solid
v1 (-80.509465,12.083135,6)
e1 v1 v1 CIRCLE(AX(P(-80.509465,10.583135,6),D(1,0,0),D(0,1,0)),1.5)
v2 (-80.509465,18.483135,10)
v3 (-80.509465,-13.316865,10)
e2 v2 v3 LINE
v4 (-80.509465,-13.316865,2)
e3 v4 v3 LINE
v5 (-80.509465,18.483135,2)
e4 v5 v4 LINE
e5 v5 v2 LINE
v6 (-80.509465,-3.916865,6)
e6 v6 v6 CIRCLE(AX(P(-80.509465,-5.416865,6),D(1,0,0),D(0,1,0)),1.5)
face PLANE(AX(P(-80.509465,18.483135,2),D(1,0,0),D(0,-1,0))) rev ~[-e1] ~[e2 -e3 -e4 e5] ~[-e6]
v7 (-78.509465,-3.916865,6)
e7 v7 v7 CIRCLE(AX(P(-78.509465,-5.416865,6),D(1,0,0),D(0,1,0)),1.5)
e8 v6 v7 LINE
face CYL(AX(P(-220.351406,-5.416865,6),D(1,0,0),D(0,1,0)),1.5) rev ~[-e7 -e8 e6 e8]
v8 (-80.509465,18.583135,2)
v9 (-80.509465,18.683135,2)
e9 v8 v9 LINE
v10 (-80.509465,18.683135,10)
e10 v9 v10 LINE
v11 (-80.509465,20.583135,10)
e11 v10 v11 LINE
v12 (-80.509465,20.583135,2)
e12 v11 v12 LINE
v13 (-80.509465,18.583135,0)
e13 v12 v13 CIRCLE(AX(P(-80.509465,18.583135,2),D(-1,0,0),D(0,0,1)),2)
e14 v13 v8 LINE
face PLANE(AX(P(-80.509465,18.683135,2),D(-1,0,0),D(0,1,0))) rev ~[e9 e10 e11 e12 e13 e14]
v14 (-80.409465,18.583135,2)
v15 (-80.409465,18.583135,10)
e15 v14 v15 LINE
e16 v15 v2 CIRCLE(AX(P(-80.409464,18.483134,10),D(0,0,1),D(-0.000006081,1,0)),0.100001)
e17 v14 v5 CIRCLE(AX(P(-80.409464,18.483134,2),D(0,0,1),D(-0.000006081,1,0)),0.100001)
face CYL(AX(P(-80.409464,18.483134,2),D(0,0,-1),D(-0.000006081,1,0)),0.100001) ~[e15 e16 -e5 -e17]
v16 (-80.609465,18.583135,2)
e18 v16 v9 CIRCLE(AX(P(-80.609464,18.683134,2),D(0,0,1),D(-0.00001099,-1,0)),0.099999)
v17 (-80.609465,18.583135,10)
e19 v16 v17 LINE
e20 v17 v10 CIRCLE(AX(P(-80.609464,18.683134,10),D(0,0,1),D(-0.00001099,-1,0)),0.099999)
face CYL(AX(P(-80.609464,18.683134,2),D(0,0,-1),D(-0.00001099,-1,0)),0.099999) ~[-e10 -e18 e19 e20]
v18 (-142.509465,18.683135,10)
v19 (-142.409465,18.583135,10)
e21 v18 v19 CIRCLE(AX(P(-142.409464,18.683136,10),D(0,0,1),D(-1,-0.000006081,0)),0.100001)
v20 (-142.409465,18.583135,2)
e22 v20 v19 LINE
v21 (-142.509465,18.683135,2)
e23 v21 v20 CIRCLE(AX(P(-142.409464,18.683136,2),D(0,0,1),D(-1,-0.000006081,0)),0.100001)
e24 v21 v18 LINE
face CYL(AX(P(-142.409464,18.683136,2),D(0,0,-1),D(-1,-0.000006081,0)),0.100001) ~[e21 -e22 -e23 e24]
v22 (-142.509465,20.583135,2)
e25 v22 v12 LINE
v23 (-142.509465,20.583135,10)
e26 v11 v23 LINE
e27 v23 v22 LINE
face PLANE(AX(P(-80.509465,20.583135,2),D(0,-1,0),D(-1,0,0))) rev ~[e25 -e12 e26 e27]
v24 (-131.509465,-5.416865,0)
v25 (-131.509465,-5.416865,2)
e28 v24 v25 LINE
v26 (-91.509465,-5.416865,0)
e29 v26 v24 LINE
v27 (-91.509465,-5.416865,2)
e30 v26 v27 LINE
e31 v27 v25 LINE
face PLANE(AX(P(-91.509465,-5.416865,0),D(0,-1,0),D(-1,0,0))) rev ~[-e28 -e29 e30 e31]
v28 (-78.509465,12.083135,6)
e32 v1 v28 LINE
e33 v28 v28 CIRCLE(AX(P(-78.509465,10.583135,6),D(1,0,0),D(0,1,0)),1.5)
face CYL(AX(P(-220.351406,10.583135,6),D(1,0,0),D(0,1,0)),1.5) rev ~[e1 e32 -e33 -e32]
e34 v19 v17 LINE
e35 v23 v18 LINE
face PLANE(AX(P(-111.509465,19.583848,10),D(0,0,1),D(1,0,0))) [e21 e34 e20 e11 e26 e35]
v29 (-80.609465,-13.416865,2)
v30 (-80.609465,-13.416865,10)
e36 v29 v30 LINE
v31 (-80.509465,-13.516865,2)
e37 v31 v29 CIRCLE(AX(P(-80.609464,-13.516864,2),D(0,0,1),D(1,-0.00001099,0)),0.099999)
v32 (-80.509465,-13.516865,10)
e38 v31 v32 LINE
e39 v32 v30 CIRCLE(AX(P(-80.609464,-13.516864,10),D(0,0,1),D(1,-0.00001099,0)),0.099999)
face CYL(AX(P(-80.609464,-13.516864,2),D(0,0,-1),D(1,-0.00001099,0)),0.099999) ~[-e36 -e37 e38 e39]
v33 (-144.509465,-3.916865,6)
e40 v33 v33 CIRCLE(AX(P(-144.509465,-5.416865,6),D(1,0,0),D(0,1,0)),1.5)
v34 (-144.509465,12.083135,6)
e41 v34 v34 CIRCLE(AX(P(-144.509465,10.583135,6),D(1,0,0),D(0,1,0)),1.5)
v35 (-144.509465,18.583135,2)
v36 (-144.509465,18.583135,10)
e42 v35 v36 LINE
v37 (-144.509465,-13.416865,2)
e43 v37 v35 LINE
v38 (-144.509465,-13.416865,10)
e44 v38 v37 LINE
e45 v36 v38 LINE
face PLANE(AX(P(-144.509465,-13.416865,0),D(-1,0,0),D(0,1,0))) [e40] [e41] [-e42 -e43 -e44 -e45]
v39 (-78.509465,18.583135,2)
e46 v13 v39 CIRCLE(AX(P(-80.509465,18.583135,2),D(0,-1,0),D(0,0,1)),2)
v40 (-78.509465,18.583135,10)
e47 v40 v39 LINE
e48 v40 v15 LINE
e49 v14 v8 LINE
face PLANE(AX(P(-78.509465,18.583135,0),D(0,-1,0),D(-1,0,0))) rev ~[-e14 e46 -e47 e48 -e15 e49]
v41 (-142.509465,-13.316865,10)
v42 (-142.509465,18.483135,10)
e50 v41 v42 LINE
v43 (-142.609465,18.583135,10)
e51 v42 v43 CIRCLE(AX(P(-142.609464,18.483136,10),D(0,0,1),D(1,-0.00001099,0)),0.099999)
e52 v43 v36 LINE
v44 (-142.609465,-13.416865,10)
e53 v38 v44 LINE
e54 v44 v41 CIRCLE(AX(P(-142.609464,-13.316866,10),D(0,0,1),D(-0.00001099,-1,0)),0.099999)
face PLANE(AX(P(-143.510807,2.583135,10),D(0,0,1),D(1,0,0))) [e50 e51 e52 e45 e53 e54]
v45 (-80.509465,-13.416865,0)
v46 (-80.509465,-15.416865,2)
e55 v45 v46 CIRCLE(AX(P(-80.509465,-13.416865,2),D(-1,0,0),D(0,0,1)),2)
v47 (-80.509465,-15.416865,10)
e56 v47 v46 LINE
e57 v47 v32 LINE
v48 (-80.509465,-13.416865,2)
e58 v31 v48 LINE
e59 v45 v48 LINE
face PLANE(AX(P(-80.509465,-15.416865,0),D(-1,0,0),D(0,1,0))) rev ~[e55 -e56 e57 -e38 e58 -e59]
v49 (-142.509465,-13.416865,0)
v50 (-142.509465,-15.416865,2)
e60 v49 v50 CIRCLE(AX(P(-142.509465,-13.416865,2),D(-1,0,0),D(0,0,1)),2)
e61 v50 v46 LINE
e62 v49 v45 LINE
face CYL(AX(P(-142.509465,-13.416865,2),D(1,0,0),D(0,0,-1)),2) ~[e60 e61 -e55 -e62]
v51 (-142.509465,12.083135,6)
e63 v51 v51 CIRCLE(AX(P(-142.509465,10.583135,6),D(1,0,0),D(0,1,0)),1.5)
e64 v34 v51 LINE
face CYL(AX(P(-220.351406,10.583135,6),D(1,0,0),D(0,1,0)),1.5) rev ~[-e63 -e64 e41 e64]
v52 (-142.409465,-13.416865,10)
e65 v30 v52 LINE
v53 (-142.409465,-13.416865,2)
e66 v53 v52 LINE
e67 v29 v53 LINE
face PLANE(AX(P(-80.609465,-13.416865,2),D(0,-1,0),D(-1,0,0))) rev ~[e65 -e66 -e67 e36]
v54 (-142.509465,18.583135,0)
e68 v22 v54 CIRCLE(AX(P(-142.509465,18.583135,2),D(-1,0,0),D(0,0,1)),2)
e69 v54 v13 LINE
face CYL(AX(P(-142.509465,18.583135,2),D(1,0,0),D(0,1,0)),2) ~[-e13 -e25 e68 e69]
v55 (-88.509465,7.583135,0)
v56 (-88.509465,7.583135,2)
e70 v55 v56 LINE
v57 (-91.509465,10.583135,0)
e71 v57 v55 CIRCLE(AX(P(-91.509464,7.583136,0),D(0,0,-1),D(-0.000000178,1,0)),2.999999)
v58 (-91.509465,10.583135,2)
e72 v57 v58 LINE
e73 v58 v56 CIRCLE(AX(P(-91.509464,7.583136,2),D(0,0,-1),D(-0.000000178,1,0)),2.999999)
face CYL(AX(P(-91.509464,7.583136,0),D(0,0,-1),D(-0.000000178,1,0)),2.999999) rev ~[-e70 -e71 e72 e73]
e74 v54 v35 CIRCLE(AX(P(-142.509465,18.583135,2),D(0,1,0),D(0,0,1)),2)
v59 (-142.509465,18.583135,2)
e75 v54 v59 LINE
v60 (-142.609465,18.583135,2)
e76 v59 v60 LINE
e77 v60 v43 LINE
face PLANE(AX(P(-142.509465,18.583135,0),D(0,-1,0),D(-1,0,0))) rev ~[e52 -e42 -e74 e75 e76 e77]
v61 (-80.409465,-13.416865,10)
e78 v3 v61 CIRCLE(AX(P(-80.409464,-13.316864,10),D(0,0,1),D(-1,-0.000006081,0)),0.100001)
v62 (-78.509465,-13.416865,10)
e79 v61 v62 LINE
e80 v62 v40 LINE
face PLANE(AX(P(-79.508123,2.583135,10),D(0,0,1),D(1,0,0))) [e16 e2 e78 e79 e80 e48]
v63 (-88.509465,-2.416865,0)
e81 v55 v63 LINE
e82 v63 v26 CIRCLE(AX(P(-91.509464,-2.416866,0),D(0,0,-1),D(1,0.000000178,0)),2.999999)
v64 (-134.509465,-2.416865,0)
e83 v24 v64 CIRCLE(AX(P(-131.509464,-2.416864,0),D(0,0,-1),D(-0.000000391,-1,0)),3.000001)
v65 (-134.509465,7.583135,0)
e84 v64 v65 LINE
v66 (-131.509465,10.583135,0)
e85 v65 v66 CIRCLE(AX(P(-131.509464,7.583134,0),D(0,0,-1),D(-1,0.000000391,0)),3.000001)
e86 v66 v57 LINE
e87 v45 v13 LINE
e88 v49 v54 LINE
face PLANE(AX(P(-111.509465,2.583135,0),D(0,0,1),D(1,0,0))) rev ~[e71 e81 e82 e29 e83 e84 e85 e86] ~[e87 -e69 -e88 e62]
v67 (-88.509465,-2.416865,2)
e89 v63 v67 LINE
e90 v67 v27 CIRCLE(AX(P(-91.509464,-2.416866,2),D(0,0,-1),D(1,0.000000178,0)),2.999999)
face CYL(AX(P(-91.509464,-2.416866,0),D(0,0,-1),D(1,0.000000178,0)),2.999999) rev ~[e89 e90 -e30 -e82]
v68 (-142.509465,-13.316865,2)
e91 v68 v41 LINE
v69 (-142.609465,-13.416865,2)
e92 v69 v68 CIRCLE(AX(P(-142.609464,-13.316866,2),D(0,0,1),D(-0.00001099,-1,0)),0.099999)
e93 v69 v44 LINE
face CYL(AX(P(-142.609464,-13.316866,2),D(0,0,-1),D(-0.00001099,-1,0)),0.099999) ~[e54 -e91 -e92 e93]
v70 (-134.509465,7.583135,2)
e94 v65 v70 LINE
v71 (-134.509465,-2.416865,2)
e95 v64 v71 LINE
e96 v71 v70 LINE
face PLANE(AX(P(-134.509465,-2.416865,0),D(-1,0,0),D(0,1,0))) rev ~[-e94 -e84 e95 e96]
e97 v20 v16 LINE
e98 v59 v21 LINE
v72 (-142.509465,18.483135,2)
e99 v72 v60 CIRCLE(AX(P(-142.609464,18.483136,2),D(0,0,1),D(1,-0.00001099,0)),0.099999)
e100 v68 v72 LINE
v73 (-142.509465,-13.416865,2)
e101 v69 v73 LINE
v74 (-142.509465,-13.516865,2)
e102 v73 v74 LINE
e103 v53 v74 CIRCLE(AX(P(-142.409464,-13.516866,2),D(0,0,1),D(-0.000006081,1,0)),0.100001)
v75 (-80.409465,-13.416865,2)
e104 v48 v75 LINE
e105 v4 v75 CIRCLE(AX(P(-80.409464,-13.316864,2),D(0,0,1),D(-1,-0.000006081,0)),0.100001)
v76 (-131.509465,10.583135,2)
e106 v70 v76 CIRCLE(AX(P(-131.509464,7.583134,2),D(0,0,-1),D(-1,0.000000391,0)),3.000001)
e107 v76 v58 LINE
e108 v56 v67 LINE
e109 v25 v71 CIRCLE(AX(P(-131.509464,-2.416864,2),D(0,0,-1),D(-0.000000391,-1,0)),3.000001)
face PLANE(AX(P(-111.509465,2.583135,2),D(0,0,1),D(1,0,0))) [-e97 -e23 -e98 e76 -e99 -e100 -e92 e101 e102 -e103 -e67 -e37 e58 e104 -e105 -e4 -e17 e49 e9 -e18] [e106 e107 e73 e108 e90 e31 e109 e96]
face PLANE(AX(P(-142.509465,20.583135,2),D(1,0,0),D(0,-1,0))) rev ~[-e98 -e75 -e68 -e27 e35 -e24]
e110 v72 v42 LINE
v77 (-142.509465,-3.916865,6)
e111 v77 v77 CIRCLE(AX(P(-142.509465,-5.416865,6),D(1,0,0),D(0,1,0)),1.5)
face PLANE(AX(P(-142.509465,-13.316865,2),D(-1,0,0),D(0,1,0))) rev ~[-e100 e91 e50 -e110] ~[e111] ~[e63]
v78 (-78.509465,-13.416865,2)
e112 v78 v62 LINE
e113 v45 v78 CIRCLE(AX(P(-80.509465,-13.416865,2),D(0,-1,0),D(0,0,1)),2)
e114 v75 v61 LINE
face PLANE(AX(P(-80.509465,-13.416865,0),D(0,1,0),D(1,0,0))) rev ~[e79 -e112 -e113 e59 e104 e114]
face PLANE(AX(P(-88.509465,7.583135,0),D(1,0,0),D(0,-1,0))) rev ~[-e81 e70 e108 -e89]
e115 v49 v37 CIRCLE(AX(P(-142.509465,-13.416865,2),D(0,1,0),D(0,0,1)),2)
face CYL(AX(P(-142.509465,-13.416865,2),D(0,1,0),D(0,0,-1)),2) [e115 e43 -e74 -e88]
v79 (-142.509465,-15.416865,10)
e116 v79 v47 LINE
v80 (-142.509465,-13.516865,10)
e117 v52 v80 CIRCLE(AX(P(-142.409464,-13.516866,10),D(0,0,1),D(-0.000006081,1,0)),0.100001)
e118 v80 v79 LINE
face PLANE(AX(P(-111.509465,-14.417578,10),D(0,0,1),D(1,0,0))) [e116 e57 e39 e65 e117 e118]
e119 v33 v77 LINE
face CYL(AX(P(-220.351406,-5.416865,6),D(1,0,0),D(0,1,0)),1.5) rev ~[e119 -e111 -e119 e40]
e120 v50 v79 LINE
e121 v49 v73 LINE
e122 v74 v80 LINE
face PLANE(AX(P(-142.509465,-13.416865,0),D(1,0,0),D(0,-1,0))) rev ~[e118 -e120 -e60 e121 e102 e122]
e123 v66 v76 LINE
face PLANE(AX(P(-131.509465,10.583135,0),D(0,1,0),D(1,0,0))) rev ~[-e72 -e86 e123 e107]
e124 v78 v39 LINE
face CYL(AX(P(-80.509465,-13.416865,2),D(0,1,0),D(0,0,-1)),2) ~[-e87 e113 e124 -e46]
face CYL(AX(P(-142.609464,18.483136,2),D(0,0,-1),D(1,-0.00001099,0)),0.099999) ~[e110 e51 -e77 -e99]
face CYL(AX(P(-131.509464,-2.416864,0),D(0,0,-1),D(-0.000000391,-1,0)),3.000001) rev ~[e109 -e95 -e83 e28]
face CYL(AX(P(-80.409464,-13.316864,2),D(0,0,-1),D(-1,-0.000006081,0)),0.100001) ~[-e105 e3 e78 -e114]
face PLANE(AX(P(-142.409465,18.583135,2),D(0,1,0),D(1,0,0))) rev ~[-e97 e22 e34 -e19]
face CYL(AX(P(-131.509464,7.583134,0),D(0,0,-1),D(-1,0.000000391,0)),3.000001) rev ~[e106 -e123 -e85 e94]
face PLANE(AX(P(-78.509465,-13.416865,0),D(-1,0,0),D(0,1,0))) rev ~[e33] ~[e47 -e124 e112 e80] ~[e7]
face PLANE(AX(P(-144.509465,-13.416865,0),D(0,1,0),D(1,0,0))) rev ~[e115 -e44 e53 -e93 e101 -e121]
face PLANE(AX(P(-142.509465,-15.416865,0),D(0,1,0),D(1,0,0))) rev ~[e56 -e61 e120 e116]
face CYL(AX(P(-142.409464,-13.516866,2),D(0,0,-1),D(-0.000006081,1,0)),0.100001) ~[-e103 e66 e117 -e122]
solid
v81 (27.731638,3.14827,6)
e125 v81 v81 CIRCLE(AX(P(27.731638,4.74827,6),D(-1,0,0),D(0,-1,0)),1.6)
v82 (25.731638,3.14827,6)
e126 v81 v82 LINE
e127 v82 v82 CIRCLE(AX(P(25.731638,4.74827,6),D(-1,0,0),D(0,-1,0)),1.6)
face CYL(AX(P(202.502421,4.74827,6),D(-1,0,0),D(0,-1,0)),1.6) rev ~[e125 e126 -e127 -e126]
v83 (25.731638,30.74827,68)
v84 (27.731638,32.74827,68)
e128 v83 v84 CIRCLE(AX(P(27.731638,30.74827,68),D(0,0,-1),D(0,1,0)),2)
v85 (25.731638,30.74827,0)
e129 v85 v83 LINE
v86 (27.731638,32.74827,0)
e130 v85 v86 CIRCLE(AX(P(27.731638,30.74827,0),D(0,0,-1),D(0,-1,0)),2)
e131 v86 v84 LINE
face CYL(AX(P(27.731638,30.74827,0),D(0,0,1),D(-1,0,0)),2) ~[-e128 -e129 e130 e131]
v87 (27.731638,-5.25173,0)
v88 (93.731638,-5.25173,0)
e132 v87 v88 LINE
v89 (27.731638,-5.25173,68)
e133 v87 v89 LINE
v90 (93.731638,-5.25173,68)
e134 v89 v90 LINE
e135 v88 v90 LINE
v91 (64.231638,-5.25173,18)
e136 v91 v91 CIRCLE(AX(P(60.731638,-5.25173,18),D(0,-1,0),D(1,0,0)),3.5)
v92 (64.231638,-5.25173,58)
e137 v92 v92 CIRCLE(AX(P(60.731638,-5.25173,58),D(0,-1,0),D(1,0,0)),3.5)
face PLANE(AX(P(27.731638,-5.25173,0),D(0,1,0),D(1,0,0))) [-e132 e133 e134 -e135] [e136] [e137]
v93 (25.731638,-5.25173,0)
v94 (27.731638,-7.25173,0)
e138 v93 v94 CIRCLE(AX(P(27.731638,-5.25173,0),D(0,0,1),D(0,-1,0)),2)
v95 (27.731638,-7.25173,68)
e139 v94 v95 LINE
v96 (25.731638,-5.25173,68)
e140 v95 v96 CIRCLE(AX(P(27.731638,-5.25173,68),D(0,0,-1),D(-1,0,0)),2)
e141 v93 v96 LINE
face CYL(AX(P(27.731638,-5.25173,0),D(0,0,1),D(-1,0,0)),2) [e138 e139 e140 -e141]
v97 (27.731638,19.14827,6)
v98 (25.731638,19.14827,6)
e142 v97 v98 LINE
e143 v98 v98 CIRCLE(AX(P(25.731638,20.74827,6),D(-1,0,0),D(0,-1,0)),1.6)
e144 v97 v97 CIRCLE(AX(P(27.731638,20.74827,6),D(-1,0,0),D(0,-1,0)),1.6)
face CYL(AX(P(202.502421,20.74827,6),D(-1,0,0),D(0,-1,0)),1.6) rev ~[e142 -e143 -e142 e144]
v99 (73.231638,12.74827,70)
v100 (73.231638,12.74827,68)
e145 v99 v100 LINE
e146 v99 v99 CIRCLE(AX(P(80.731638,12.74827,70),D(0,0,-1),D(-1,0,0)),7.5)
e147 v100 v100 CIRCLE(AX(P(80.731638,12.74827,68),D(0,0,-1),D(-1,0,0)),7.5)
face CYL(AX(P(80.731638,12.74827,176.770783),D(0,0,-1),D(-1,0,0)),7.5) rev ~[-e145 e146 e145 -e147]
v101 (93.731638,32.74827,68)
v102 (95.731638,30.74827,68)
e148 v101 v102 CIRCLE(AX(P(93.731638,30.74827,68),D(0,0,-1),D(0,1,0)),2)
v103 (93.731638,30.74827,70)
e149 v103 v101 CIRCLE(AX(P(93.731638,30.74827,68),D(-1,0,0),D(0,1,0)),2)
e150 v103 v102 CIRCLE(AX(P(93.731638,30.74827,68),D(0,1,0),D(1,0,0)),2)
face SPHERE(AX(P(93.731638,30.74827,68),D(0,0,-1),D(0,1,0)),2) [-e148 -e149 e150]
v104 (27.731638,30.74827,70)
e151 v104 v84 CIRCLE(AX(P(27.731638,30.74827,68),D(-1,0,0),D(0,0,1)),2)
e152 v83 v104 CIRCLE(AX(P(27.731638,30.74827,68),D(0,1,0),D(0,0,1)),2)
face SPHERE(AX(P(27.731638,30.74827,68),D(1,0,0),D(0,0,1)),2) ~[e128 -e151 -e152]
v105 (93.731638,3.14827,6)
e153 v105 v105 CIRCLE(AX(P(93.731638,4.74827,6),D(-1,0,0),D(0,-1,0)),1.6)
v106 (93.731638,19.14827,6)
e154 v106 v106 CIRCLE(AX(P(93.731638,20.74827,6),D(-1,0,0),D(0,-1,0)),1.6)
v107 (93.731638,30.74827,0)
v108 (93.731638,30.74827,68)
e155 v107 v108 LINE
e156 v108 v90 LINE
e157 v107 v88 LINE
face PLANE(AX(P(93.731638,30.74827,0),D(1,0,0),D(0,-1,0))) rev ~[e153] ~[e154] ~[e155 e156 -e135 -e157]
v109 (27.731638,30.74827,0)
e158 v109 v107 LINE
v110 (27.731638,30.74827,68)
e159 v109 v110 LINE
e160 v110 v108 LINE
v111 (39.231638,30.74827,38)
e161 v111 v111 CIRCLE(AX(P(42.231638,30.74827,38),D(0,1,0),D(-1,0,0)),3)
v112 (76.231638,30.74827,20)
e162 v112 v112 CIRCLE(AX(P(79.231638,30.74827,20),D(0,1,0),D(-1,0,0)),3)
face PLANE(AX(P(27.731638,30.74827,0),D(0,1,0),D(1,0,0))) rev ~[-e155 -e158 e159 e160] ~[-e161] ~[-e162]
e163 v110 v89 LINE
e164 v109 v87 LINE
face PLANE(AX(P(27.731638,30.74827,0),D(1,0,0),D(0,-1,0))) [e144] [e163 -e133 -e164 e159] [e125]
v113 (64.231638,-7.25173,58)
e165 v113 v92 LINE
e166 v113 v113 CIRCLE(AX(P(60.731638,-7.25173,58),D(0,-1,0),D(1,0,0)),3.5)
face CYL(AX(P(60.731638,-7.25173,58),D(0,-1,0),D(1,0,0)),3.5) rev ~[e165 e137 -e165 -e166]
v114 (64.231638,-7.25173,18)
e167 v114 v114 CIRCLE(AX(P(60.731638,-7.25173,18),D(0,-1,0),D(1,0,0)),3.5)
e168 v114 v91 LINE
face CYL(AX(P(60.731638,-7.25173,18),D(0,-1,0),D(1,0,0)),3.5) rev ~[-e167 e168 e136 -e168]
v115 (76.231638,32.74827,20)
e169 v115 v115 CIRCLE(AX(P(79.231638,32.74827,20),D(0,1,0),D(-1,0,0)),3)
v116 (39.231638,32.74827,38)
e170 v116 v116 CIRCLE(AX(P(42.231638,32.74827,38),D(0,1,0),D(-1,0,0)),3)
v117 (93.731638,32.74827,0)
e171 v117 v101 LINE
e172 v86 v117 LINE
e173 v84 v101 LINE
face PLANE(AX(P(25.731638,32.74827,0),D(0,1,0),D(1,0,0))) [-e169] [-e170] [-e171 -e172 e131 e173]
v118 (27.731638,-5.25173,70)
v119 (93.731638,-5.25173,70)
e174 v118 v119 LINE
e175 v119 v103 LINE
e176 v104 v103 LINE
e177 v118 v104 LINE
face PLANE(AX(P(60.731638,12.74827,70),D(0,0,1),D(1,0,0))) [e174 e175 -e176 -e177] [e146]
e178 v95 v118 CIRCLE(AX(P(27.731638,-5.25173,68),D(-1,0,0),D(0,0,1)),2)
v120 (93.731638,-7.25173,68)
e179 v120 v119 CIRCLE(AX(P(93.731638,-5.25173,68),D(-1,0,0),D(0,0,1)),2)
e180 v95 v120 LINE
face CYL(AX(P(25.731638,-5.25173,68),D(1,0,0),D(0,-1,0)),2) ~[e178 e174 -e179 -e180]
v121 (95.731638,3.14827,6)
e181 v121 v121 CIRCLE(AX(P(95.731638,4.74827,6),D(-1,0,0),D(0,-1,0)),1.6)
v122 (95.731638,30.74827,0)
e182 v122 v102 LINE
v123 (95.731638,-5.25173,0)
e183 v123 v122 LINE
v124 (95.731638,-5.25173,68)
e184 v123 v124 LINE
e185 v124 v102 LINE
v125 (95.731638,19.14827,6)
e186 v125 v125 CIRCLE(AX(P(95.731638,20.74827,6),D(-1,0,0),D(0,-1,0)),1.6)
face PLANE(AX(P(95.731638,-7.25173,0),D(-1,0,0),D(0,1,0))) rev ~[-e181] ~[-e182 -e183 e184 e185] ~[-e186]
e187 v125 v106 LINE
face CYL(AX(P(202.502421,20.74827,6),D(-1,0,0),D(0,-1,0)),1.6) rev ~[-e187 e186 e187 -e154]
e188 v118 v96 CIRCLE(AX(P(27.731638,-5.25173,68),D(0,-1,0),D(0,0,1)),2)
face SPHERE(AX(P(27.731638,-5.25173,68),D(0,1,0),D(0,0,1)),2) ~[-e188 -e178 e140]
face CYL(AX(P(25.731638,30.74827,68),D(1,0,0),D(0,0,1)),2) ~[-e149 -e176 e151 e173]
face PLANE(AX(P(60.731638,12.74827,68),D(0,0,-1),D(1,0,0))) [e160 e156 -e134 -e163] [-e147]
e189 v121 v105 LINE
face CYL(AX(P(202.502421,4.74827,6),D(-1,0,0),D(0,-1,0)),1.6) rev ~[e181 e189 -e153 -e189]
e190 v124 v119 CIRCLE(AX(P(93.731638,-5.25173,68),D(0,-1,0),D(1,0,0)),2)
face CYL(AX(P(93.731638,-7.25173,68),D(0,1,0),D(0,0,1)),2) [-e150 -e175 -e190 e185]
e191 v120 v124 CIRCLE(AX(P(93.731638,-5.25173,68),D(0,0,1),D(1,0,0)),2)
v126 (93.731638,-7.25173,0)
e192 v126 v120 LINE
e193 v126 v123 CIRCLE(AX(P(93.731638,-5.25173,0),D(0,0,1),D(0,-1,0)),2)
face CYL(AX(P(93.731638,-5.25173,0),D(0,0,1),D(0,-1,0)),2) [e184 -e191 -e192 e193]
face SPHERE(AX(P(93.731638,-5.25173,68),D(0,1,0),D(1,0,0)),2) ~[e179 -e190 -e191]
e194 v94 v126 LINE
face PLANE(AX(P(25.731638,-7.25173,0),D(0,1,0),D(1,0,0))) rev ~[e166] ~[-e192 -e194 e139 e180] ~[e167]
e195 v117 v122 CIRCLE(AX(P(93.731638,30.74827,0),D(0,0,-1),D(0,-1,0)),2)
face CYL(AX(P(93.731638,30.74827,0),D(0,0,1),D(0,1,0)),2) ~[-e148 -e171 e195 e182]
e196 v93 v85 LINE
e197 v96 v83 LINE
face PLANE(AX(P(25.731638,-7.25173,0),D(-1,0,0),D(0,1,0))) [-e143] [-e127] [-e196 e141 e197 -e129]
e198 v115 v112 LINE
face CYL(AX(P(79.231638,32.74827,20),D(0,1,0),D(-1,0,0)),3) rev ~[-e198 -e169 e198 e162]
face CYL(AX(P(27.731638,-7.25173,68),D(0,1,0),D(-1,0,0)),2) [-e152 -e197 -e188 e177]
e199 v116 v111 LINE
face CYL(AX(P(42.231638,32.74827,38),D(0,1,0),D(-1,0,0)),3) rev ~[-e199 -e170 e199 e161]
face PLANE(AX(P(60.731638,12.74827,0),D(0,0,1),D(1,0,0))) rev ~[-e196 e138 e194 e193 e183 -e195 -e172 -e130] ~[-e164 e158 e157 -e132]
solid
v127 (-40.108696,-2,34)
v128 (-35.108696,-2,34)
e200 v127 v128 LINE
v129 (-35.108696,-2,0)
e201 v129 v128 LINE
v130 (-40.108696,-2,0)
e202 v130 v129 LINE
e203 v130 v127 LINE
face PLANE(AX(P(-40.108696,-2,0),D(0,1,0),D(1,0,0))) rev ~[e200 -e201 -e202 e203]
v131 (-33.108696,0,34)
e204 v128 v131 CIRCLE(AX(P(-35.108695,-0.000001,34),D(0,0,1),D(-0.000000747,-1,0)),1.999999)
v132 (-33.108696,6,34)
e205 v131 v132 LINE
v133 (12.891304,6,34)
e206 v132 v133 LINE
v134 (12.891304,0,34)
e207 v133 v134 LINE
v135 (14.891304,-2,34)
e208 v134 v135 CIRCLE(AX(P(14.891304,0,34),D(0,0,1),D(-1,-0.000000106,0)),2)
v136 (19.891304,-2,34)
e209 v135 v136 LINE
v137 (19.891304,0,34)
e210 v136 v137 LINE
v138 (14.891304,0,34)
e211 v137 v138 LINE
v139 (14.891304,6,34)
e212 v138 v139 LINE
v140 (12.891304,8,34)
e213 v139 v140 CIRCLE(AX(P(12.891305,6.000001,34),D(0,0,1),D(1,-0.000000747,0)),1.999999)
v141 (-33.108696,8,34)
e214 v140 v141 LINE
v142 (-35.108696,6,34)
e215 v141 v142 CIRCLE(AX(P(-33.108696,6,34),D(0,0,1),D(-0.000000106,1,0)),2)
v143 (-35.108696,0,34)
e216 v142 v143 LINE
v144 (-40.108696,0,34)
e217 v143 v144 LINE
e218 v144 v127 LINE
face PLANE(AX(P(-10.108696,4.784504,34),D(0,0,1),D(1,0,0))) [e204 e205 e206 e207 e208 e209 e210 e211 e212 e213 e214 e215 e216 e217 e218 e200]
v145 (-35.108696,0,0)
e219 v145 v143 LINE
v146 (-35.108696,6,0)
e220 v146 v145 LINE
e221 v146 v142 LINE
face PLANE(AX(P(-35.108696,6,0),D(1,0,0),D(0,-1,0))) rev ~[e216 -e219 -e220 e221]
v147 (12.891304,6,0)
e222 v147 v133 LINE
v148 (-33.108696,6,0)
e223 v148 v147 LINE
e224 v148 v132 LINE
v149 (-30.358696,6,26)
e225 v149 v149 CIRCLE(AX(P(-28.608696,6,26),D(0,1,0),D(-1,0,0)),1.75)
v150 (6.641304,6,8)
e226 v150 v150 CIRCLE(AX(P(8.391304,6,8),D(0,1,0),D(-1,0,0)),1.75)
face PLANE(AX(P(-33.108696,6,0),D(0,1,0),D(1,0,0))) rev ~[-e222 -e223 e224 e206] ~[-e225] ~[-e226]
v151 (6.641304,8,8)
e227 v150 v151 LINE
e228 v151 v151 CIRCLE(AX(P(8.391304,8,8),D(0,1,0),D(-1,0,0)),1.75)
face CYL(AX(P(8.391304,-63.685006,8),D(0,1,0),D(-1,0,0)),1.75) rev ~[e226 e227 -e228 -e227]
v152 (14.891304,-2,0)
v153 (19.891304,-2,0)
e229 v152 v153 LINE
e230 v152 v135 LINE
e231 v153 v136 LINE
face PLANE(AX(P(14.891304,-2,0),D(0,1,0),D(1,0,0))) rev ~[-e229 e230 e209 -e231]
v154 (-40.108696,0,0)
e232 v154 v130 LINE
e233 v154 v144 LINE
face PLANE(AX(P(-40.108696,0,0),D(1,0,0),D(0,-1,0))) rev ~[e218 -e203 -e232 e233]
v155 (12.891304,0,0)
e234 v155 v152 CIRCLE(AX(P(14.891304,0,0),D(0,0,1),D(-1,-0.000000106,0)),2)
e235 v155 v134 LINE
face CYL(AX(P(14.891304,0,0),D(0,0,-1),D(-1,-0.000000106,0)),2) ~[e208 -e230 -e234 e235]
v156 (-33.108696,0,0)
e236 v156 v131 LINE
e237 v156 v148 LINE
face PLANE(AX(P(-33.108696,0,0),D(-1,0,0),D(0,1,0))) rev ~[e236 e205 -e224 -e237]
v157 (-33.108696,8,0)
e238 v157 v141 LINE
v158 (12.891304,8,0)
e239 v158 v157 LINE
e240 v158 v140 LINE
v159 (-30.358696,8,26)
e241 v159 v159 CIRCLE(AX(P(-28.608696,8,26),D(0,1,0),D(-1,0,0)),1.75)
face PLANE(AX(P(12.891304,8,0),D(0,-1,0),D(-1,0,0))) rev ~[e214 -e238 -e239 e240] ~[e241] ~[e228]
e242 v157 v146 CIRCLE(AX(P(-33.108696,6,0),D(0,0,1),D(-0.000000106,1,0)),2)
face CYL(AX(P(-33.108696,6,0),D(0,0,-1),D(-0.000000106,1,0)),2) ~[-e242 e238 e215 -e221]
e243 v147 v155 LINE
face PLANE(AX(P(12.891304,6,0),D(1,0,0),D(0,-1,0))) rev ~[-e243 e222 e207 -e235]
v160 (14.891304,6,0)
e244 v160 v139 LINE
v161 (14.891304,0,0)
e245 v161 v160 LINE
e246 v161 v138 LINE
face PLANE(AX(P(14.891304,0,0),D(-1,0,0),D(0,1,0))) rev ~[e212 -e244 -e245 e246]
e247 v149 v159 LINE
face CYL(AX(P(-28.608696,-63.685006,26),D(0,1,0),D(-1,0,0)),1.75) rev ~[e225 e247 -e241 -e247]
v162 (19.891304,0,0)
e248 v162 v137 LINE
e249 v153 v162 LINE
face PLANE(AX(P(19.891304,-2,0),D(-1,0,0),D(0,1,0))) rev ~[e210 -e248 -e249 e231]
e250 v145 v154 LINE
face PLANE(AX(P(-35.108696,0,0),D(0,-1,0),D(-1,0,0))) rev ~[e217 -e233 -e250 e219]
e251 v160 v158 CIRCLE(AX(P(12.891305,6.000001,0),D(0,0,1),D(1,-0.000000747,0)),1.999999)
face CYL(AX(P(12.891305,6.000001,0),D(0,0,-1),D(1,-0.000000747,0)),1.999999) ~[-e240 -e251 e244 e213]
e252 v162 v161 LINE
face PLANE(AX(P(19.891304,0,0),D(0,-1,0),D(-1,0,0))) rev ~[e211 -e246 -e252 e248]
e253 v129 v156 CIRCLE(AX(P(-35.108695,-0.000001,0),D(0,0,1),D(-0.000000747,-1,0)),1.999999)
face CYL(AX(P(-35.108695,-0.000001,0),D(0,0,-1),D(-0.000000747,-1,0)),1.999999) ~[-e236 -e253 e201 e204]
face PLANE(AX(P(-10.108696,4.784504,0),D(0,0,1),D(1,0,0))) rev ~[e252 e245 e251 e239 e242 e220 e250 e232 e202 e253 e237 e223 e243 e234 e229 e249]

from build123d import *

# Parameters (mm, degrees)
F1_DEPTH  = 34
F3_D      = 3.5
F4_W      = 70
F4_H      = 40
F5_DEPTH  = 70
F6_W      = 66
F6_H      = 36
F7_DEPTH  = 68
F9_D      = 15
F11_D     = 3.2
F11_2_D   = 3.2
F12_R     = 3
F13_DEPTH = 2
F14_W     = 62
F14_H     = 32
F14_W_2   = 2
F14_H_2   = 2
F15_DEPTH = 2
F17_DEPTH = 8
F19_D     = 3
F20_R     = 2
F21_R     = 2
F22_R     = 3.5
F23_DEPTH = 2


with BuildPart() as f1:
    # F0 (on Top) → F1 (new body)
    with BuildSketch(Plane.XY):
        with BuildLine():
            Line((-35.108696, 0), (-40.108696, 0))
            Line((-40.108696, 0), (-40.108696, -2))
            Line((-40.108696, -2), (-35.108696, -2))
            ThreePointArc((-35.108696, -2), (-33.694482, -1.414214), (-33.108696, 0))
            Line((-33.108696, 0), (-33.108696, 6))
            Line((-33.108696, 6), (12.891304, 6))
            Line((12.891304, 6), (12.891304, 0))
            ThreePointArc((12.891304, 0), (13.477091, -1.414214), (14.891304, -2))
            Line((14.891304, -2), (19.891304, -2))
            Line((19.891304, -2), (19.891304, 0))
            Line((19.891304, 0), (14.891304, 0))
            Line((14.891304, 0), (14.891304, 6))
            ThreePointArc((14.891304, 6), (14.305518, 7.414214), (12.891304, 8))
            Line((12.891304, 8), (-33.108696, 8))
            ThreePointArc((-33.108696, 8), (-34.522909, 7.414214), (-35.108696, 6))
            Line((-35.108696, 6), (-35.108696, 0))
        make_face()
    extrude(amount=F1_DEPTH)

    # F3 (through all)
    with Locations(Plane.XZ.offset(-6)):
        with Locations((-28.608696, 26), (8.391304, 8)):
            Hole(F3_D / 2)

    # F11 (through all)
    with Locations(Plane.YZ.offset(95.731638)):
        with Locations((20.74827, 6), (4.74827, 6)):
            Hole(F11_D / 2)


with BuildPart() as f5:
    # F4 (on Top) → F5 (new body)
    with BuildSketch(Plane.XY):
        with Locations((60.731638, 12.74827)):
            Rectangle(F4_W, F4_H)
    extrude(amount=F5_DEPTH)

    # F6 (on face) → F7 (cut)
    with BuildSketch(Plane(origin=(0, 0, 0), x_dir=(1, 0, 0), z_dir=(0, 0, -1))):
        with Locations((60.731638, -12.74827)):
            Rectangle(F6_W, F6_H)
    extrude(amount=-F7_DEPTH, mode=Mode.SUBTRACT)

    # F9 (through all)
    with Locations(Plane.XY.offset(70)):
        with Locations((80.731638, 12.74827)):
            Hole(F9_D / 2)

    # F11#2 (through all)
    with Locations(Plane.YZ.offset(95.731638)):
        with Locations((20.74827, 6), (4.74827, 6)):
            Hole(F11_2_D / 2)

    # F12 (on face) → F13 (cut)
    with BuildSketch(Plane(origin=(0, 32.74827, 0), x_dir=(-1, 0, 0), z_dir=(0, 1, 0))):
        with Locations((-42.231638, 38)):
            Circle(F12_R)
        with Locations((-79.231638, 20)):
            Circle(F12_R)
    extrude(amount=-F13_DEPTH, mode=Mode.SUBTRACT)

    # F21
    f21_edges = [f5.edges().sort_by_distance(p)[0] for p in [
        (95.731638, 32.74827, 35),
        (60.731638, 32.74827, 70),
        (95.731638, 12.74827, 70),
        (95.731638, -7.25173, 35),
        (25.731638, 12.74827, 70),
        (60.731638, -7.25173, 70),
        (25.731638, 32.74827, 35),
        (25.731638, -7.25173, 35),
    ]]
    fillet(f21_edges, radius=F21_R)

    # F22 (on face) → F23 (cut)
    with BuildSketch(Plane.XZ.offset(7.25173)):
        with Locations((60.731638, 58)):
            Circle(F22_R)
        with Locations((60.731638, 18)):
            Circle(F22_R)
    extrude(amount=-F23_DEPTH, mode=Mode.SUBTRACT)


with BuildPart() as f15:
    # F14 (on Top) → F15 (new body)
    with BuildSketch(Plane.XY):
        with Locations((-111.509465, 2.583135)):
            Rectangle(F14_W, F14_H)
        with BuildLine():
            ThreePointArc((-134.509465, 7.583135), (-133.630785, 9.704455), (-131.509465, 10.583135))
            Line((-131.509465, 10.583135), (-91.509465, 10.583135))
            ThreePointArc((-91.509465, 10.583135), (-89.388144, 9.704455), (-88.509465, 7.583135))
            Line((-88.509465, 7.583135), (-88.509465, -2.416865))
            ThreePointArc((-88.509465, -2.416865), (-89.388144, -4.538185), (-91.509465, -5.416865))
            Line((-91.509465, -5.416865), (-131.509465, -5.416865))
            ThreePointArc((-131.509465, -5.416865), (-133.630785, -4.538185), (-134.509465, -2.416865))
            Line((-134.509465, -2.416865), (-134.509465, 7.583135))
        make_face(mode=Mode.SUBTRACT)
        with Locations((-79.509465, 2.583135)):
            Rectangle(F14_W_2, F14_H)
        with Locations((-111.509465, -14.416865)):
            Rectangle(F14_W, F14_H_2)
        with Locations((-143.509465, 2.583135)):
            Rectangle(F14_W_2, F14_H)
        with Locations((-111.509465, 19.583135)):
            Rectangle(F14_W, F14_H_2)
    extrude(amount=F15_DEPTH)

    # F16 (on face) → F17 (join)
    with BuildSketch(Plane.XY.offset(2)):
        with BuildLine():
            Line((-142.509465, 20.583135), (-142.509465, 18.683135))
            ThreePointArc((-142.509465, 18.683135), (-142.480175, 18.612424), (-142.409465, 18.583135))
            Line((-142.409465, 18.583135), (-80.609465, 18.583135))
            ThreePointArc((-80.609465, 18.583135), (-80.538754, 18.612424), (-80.509465, 18.683135))
            Line((-80.509465, 18.683135), (-80.509465, 20.583135))
            Line((-80.509465, 20.583135), (-142.509465, 20.583135))
        make_face()
        with BuildLine():
            Line((-142.609465, 18.583135), (-144.509465, 18.583135))
            Line((-144.509465, 18.583135), (-144.509465, -13.416865))
            Line((-144.509465, -13.416865), (-142.609465, -13.416865))
            ThreePointArc((-142.609465, -13.416865), (-142.538754, -13.387576), (-142.509465, -13.316865))
            Line((-142.509465, -13.316865), (-142.509465, 18.483135))
            ThreePointArc((-142.509465, 18.483135), (-142.538754, 18.553846), (-142.609465, 18.583135))
        make_face()
        with BuildLine():
            ThreePointArc((-142.409465, -13.416865), (-142.480175, -13.446154), (-142.509465, -13.516865))
            Line((-142.509465, -13.516865), (-142.509465, -15.416865))
            Line((-142.509465, -15.416865), (-80.509465, -15.416865))
            Line((-80.509465, -15.416865), (-80.509465, -13.516865))
            ThreePointArc((-80.509465, -13.516865), (-80.538754, -13.446154), (-80.609465, -13.416865))
            Line((-80.609465, -13.416865), (-142.409465, -13.416865))
        make_face()
        with BuildLine():
            Line((-78.509465, 18.583135), (-80.409465, 18.583135))
            ThreePointArc((-80.409465, 18.583135), (-80.480175, 18.553846), (-80.509465, 18.483135))
            Line((-80.509465, 18.483135), (-80.509465, -13.316865))
            ThreePointArc((-80.509465, -13.316865), (-80.480175, -13.387576), (-80.409465, -13.416865))
            Line((-80.409465, -13.416865), (-78.509465, -13.416865))
            Line((-78.509465, -13.416865), (-78.509465, 18.583135))
        make_face()
    extrude(amount=F17_DEPTH)

    # F19 (through all)
    with Locations(Plane(origin=(-144.509465, 0, 0), x_dir=(0, -1, 0), z_dir=(-1, 0, 0))):
        with Locations((-10.583135, 6), (5.416865, 6)):
            Hole(F19_D / 2)

    # F20
    f20_edges = [f15.edges().sort_by_distance(p)[0] for p in [
        (-144.509465, 2.583135, 0),
        (-111.509465, 20.583135, 0),
        (-78.509465, 2.583135, 0),
        (-111.509465, -15.416865, 0),
    ]]
    fillet(f20_edges, radius=F20_R)


solid = Compound([f1.part, f5.part, f15.part])
